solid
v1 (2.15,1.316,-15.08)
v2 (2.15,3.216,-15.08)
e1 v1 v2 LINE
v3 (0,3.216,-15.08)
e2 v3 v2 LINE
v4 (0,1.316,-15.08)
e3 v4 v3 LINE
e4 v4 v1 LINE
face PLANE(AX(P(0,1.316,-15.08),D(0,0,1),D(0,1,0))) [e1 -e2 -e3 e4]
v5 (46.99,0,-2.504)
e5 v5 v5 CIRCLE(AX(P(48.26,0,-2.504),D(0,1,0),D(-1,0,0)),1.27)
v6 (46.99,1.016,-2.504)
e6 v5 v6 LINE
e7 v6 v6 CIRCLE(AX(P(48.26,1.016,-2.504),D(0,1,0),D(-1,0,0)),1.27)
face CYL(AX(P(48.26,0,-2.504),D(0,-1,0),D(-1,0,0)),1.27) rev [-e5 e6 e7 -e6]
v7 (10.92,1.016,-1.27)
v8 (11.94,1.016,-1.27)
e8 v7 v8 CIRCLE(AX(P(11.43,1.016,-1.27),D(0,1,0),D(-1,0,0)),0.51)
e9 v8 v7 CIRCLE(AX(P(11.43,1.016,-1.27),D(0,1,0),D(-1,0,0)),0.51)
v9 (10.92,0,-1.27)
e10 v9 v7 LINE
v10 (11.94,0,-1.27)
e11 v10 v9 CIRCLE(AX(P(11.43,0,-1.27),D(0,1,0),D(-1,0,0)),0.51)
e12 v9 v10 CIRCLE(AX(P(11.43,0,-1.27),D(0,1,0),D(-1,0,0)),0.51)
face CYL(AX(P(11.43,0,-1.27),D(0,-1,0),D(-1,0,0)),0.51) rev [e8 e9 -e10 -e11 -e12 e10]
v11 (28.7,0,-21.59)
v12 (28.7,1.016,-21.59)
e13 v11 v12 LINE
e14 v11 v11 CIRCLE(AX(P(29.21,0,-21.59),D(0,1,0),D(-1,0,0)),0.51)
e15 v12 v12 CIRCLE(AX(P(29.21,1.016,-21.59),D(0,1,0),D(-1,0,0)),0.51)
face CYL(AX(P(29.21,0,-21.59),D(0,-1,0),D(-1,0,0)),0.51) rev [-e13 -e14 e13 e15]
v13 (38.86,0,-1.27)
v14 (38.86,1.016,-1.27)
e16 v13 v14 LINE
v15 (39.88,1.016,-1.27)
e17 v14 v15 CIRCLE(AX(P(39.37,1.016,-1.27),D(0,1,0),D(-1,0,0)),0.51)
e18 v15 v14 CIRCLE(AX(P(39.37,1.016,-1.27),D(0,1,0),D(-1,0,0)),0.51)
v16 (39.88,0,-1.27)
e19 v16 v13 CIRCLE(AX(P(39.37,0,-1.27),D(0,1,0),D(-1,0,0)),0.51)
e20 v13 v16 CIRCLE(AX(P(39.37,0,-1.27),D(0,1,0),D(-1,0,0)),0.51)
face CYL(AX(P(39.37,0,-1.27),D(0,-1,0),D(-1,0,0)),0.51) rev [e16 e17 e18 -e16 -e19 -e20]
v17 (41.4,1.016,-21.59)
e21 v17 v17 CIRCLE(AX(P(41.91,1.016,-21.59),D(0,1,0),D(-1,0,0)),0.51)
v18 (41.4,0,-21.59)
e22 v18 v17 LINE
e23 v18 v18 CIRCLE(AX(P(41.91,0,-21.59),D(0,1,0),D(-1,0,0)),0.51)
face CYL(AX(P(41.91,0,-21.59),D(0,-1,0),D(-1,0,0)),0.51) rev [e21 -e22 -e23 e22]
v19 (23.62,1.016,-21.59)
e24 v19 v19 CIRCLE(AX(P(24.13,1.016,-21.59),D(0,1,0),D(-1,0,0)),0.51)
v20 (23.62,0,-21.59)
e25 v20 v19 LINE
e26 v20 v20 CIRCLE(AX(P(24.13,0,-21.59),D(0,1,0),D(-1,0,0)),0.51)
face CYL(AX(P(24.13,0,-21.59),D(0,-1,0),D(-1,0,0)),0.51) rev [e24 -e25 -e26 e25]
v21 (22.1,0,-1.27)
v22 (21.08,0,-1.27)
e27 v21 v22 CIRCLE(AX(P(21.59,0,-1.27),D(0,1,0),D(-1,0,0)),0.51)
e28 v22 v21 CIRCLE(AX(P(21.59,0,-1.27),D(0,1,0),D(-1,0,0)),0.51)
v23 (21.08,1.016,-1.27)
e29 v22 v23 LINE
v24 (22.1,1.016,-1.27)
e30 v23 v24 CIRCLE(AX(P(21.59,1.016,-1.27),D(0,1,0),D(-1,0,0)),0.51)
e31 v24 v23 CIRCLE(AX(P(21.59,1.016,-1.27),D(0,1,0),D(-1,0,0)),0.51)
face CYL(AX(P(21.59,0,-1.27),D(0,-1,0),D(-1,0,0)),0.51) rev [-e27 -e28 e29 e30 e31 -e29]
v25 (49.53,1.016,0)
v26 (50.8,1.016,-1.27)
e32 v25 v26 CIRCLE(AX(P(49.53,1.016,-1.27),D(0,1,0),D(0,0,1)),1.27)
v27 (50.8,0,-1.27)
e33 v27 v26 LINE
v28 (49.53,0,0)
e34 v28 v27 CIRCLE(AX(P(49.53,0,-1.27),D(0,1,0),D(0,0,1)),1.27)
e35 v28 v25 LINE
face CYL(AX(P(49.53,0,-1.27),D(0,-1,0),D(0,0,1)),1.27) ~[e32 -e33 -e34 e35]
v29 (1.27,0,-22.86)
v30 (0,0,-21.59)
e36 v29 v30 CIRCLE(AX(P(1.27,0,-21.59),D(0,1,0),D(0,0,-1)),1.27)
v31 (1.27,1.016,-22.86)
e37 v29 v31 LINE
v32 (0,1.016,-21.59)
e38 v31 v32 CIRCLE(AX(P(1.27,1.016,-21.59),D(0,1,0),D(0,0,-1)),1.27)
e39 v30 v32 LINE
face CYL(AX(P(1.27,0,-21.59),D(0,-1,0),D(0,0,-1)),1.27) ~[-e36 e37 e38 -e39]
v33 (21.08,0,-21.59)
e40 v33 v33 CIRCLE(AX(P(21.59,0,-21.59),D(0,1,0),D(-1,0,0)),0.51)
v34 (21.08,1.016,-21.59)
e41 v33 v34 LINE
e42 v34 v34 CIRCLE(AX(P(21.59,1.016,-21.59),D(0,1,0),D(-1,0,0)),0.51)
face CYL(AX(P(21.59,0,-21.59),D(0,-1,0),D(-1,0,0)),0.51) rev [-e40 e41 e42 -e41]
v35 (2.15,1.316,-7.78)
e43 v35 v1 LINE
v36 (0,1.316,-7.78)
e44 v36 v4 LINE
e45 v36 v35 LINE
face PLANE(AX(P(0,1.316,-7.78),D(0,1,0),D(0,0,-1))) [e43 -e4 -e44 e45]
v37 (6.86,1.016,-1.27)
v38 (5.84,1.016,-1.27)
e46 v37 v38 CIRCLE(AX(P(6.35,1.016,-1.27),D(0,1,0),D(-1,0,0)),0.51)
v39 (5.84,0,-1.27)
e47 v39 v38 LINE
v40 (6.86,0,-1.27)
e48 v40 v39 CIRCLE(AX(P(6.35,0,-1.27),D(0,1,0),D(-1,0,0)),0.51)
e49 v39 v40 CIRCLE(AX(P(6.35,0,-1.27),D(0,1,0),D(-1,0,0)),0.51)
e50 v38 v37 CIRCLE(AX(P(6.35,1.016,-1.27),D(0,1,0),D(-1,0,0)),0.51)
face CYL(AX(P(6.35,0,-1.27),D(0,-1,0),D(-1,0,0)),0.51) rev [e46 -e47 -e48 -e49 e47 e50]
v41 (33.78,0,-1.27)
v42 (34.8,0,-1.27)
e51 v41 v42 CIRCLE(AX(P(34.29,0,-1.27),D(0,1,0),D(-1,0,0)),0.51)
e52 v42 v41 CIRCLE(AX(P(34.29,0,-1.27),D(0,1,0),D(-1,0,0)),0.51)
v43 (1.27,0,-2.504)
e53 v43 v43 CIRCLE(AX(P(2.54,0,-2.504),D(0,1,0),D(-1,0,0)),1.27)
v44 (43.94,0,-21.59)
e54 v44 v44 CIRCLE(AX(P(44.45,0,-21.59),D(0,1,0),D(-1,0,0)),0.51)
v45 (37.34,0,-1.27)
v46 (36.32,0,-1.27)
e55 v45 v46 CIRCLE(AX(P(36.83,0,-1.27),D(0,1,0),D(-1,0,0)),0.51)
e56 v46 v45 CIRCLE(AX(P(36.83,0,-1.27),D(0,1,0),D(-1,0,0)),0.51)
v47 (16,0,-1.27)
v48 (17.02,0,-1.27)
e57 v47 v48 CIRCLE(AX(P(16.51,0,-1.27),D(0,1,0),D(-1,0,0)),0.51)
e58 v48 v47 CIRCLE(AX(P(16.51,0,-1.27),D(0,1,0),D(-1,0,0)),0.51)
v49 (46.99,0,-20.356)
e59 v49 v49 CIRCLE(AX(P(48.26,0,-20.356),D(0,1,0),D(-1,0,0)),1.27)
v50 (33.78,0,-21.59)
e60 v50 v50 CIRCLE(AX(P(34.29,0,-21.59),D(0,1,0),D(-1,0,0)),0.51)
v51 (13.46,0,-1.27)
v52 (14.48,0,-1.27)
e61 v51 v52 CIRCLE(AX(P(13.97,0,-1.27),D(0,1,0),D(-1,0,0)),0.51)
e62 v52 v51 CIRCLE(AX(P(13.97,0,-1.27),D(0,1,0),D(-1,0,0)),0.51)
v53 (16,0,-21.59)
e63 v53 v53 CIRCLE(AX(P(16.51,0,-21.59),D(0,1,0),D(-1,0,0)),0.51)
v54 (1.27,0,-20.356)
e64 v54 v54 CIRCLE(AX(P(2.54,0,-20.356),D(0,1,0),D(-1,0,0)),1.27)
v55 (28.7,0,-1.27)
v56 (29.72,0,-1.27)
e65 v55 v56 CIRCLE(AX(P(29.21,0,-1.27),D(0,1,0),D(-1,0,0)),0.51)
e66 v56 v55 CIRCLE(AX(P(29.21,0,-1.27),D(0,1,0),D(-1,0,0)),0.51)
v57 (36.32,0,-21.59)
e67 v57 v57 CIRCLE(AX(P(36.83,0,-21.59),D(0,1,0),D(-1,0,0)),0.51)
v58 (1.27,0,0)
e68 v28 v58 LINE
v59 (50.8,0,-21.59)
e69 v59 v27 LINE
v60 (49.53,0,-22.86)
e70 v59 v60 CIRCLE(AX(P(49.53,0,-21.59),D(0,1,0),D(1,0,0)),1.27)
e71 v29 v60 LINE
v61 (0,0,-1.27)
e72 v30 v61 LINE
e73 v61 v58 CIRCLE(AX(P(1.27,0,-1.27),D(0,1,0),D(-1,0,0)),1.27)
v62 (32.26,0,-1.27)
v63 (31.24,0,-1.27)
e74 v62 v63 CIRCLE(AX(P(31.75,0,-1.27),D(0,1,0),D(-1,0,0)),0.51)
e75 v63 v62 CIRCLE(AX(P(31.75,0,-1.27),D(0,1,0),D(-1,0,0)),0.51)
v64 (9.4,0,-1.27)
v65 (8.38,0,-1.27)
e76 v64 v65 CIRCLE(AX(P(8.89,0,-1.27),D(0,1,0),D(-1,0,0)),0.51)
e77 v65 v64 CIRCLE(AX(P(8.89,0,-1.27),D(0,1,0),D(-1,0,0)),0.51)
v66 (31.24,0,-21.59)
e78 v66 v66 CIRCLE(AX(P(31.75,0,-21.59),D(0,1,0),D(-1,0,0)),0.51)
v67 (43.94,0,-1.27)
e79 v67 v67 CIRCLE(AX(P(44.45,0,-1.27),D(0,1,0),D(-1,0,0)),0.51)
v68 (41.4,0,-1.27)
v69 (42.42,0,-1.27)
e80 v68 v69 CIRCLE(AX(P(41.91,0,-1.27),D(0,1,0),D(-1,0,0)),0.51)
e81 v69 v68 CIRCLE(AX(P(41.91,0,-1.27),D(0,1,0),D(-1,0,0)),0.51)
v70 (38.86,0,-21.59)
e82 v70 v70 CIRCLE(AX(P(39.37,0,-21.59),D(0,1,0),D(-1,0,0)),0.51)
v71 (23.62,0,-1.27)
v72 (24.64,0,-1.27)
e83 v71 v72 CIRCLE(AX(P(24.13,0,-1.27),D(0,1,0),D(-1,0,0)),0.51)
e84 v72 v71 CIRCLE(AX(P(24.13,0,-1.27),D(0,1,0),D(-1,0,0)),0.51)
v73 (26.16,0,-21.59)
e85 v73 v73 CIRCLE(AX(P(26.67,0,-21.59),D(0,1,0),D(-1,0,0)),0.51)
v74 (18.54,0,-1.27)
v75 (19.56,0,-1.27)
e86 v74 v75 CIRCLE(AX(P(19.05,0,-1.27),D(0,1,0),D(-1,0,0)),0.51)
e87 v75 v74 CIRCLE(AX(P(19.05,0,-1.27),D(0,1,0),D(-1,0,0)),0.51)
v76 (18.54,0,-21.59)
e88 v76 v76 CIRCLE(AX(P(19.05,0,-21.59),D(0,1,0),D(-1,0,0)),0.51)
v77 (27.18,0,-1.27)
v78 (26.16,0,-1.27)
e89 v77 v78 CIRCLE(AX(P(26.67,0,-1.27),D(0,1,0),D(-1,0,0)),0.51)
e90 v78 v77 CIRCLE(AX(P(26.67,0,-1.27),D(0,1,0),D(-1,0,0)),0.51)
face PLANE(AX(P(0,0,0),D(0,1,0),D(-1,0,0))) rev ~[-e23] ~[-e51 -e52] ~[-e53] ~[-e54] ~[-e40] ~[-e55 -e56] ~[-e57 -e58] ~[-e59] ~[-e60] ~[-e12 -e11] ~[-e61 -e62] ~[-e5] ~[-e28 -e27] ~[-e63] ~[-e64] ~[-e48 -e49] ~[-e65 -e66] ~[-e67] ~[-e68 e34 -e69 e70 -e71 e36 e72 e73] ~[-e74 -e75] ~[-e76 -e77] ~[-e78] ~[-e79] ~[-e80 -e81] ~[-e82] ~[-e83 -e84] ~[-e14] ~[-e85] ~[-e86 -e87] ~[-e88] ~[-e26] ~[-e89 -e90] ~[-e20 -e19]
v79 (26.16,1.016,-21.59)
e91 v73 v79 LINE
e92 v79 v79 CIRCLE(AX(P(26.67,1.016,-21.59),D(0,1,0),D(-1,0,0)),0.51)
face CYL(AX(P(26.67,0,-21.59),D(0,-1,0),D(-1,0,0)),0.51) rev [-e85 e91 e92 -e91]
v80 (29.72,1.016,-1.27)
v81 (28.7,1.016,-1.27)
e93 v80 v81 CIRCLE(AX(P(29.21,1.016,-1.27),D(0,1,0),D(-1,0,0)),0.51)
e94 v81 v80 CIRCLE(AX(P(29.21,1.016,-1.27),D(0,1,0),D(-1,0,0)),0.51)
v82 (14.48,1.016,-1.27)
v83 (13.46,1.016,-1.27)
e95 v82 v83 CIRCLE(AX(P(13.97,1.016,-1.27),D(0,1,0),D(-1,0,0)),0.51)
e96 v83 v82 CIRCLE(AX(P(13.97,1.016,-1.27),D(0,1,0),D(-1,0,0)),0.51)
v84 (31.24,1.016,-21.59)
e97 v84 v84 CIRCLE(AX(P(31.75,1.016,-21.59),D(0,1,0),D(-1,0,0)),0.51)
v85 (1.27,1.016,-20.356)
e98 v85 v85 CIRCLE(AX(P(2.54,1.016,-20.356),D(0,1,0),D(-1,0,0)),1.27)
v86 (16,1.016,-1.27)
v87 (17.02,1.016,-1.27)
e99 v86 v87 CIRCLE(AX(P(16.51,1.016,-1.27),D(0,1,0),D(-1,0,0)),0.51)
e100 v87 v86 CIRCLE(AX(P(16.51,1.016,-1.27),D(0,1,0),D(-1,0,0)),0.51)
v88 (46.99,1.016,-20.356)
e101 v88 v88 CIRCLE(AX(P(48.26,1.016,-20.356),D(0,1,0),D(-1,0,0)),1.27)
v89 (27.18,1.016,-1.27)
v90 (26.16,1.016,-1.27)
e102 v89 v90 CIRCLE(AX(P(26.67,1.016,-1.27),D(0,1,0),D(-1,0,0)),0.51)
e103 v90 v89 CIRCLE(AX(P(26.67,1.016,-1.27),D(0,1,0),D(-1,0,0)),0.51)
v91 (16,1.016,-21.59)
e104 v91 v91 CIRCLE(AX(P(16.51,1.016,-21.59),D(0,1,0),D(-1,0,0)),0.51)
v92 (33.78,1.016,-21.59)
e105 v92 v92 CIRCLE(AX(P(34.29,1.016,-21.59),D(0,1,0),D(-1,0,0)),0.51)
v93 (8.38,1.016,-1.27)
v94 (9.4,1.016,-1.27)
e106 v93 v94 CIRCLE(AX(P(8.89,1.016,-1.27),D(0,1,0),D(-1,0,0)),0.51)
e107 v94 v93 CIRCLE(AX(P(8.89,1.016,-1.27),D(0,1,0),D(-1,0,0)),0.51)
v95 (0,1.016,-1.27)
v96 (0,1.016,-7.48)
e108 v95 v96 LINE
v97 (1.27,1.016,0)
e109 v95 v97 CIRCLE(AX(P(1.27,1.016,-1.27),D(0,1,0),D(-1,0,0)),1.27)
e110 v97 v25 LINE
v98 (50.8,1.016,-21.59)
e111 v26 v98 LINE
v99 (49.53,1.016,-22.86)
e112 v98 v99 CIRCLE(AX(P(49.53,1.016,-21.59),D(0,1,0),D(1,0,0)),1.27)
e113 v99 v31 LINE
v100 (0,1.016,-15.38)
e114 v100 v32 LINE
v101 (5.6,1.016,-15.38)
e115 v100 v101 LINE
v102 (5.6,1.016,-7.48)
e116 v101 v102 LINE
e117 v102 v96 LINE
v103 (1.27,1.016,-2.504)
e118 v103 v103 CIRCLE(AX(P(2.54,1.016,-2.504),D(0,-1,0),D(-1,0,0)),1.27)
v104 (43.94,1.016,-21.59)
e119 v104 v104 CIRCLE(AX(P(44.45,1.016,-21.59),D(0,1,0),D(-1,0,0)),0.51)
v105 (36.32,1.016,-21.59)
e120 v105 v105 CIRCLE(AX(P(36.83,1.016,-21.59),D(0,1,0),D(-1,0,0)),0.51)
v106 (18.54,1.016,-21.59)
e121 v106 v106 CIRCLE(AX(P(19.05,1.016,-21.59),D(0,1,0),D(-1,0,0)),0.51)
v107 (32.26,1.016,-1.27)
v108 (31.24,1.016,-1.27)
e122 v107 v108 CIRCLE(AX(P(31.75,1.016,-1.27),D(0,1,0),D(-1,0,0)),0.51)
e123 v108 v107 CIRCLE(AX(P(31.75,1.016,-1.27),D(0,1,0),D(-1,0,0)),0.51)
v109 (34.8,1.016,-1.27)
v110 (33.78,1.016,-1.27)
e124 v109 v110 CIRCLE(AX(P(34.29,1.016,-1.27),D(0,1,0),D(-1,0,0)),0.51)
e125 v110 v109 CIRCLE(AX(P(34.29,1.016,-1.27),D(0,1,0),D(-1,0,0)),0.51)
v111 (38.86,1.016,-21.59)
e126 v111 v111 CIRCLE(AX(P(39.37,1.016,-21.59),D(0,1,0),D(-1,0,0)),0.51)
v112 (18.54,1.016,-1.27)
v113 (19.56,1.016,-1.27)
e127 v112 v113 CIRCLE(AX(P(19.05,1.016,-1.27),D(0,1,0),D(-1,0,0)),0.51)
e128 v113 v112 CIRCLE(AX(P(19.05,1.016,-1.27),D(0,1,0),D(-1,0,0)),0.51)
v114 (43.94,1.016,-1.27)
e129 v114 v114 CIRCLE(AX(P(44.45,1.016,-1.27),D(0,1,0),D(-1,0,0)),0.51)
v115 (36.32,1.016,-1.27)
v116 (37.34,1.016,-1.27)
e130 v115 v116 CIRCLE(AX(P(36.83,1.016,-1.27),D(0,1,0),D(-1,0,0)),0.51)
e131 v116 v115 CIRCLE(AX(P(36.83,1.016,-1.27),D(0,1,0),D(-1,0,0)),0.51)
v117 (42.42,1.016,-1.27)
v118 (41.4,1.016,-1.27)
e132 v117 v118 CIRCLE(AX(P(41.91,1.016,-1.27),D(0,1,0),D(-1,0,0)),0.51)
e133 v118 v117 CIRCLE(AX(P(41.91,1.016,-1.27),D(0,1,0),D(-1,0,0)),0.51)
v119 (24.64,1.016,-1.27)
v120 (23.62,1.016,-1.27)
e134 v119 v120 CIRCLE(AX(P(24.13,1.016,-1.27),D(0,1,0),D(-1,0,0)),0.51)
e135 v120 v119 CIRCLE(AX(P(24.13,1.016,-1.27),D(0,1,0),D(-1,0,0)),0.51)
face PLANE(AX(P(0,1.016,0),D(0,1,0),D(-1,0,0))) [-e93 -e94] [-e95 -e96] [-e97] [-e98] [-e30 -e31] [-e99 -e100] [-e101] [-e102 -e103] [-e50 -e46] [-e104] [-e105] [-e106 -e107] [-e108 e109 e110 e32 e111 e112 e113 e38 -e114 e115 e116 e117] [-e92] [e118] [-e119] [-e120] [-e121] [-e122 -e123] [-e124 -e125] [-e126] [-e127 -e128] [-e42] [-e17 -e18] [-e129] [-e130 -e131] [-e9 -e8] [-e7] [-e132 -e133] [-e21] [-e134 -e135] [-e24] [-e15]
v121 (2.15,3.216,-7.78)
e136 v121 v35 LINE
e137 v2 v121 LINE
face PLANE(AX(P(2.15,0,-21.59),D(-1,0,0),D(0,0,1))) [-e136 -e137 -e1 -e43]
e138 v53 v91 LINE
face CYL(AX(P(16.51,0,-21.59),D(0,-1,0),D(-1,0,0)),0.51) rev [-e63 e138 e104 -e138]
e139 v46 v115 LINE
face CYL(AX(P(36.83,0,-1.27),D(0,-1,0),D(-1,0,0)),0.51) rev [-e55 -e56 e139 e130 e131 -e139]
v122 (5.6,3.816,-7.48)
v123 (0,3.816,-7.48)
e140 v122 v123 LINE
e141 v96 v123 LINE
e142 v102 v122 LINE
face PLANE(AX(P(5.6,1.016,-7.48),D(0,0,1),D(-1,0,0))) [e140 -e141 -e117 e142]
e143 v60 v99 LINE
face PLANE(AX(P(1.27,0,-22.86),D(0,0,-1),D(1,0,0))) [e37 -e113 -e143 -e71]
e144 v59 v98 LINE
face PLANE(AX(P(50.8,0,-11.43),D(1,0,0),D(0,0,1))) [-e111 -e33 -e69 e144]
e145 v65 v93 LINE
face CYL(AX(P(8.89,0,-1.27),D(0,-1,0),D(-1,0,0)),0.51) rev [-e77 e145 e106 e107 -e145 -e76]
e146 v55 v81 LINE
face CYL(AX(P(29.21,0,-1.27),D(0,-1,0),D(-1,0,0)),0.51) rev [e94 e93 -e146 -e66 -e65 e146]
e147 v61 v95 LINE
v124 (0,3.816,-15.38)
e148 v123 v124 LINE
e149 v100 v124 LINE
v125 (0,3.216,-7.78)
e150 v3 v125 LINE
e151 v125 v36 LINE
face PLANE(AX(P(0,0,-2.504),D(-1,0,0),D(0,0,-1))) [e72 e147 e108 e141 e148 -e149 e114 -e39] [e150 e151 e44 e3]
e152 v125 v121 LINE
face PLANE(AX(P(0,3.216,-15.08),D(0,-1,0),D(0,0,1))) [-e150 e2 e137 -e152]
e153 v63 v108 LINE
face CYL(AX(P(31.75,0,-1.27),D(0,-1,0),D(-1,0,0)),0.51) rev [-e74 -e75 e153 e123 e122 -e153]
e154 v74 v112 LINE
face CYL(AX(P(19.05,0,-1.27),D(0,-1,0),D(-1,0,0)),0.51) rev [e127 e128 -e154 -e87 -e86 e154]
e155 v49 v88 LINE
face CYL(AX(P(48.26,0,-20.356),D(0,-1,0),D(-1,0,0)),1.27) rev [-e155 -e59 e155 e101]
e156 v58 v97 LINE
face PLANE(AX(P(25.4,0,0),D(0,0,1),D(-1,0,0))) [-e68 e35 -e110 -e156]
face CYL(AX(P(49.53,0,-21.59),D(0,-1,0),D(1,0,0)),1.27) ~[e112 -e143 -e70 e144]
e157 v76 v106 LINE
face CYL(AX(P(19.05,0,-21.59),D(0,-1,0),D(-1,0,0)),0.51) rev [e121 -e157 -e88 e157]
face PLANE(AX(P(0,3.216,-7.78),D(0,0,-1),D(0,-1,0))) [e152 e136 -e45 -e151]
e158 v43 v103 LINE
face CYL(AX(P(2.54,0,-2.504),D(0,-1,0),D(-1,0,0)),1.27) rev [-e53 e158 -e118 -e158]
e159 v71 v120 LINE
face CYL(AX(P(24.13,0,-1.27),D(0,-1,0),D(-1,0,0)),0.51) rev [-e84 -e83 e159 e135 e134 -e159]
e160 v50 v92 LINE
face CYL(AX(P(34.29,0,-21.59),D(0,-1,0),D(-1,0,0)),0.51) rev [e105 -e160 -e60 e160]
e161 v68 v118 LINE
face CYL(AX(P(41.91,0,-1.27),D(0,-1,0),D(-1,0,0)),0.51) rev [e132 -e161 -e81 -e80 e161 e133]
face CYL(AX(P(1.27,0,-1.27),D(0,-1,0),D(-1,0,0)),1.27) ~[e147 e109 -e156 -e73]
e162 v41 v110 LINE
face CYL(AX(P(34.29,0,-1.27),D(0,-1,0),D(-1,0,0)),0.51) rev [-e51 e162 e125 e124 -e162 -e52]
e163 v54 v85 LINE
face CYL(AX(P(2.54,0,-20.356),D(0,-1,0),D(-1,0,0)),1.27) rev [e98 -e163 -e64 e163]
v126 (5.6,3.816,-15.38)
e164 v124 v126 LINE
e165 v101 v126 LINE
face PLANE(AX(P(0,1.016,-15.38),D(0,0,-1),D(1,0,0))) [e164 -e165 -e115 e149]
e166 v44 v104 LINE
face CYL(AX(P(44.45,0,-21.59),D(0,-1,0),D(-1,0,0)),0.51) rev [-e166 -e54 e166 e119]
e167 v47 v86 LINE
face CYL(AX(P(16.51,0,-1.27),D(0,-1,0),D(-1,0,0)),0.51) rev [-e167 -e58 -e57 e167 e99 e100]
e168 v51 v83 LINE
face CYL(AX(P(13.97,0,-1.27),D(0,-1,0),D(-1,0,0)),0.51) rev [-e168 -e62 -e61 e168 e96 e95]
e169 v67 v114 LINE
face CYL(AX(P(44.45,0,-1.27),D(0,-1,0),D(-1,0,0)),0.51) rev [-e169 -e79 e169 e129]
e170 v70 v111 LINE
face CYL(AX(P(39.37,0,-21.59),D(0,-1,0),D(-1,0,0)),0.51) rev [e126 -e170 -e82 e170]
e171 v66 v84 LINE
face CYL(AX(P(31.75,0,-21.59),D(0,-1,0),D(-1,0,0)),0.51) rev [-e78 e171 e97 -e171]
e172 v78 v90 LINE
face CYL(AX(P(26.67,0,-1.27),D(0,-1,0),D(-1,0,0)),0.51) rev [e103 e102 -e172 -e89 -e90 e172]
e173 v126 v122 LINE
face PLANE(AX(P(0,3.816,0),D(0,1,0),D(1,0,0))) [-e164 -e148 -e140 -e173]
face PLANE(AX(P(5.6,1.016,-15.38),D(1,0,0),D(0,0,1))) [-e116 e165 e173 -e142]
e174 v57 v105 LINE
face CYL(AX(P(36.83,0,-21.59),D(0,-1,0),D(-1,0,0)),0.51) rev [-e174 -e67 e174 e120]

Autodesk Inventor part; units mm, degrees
ref_plane "YZ Plane" through (0, 0, 0) normal (1, 0, 0) x (0, 1, 0)
ref_plane "XZ Plane" through (0, 0, 0) normal (0, 1, 0) x (-1, 0, 0)
ref_plane "XY Plane" through (0, 0, 0) normal (0, 0, 1) x (1, 0, 0)
sketch "Sketch1" plane through (0, 0, 0) normal (0, 1, 0) x (-1, 0, 0)
  line L0 (0, 0) -> (-50.8, 0)
  line L1 (-50.8, 0) -> (-50.8, -22.86)
  line L2 (-50.8, -22.86) -> (0, -22.86)
  line L3 (0, -22.86) -> (0, 0)
  line L4 (0, 0) -> (-2.54, 0)
  line L5 (-2.54, 0) -> (-48.26, 0)
  line L6 (0, 0) -> (0, -2.54)
  line L7 (0, -2.54) -> (0, -20.32)
  dimension "d0" = 50.8
  dimension "d1" = 22.86
  dimension "d2" = 2.54
  dimension "d3" = 45.72
  dimension "d4" = 2.54
  dimension "d5" = 17.78
sketch "Sketch2" plane through (0, 0, 0) normal (0, 1, 0) x (-1, 0, 0)
  point P0 (0, 0)
sketch "Sketch3" plane through (0, 0, 0) normal (0, 1, 0) x (-1, 0, 0)
  line L0 (0, -1.27) -> (0, -1.27)
  line L1 (0, -2.504) -> (-2.54, -2.504)
  line L2 (-2.54, -2.504) -> (-2.54, 0)
  line L3 (0, -11.43) -> (-50.8, -11.43)
  circle A0 centre (-2.54, -2.504) radius 1.27
  circle A1 centre (-2.54, -20.356) radius 1.27
  line L4 (-25.4, 0) -> (-25.4, -22.86)
  circle A2 centre (-48.26, -2.504) radius 1.27
  circle A3 centre (-48.26, -20.356) radius 1.27
  line L5 (-1.27, 0) -> (-1.27, 0)
  arc A4 (0, -1.27) -> (-1.27, 0) centre (-1.27, -1.27) ccw
  arc A5 (-1.27, -22.86) -> (0, -21.59) centre (-1.27, -21.59) ccw
  arc A6 (-49.53, 0) -> (-50.8, -1.27) centre (-49.53, -1.27) ccw
  arc A7 (-50.8, -21.59) -> (-49.53, -22.86) centre (-49.53, -21.59) ccw
  line L6 (-25.4, -1.27) -> (-6.35, -1.27)
  line L7 (-25.4, -1.27) -> (-44.45, -1.27)
  circle A8 centre (-6.35, -1.27) radius 0.51
  line L8 (-6.35, -1.27) -> (-8.89, -1.27)
  line L9 (-6.35, -1.27) -> (-3.81, -1.27) construction
  circle A9 centre (-8.89, -1.27) radius 0.51
  circle A10 centre (-8.89, -1.27) radius 0.51
  circle A11 centre (-11.43, -1.27) radius 0.51
  circle A12 centre (-13.97, -1.27) radius 0.51
  circle A13 centre (-16.51, -1.27) radius 0.51
  circle A14 centre (-19.05, -1.27) radius 0.51
  circle A15 centre (-21.59, -1.27) radius 0.51
  circle A16 centre (-24.13, -1.27) radius 0.51
  circle A17 centre (-44.45, -1.27) radius 0.51
  circle A18 centre (-41.91, -1.27) radius 0.51
  circle A19 centre (-39.37, -1.27) radius 0.51
  circle A20 centre (-36.83, -1.27) radius 0.51
  circle A21 centre (-34.29, -1.27) radius 0.51
  circle A22 centre (-31.75, -1.27) radius 0.51
  circle A23 centre (-29.21, -1.27) radius 0.51
  circle A24 centre (-26.67, -1.27) radius 0.51
  circle A25 centre (-16.51, -21.59) radius 0.51
  circle A26 centre (-19.05, -21.59) radius 0.51
  circle A27 centre (-21.59, -21.59) radius 0.51
  circle A28 centre (-24.13, -21.59) radius 0.51
  circle A29 centre (-29.21, -21.59) radius 0.51
  circle A30 centre (-26.67, -21.59) radius 0.51
  circle A31 centre (-31.75, -21.59) radius 0.51
  circle A32 centre (-34.29, -21.59) radius 0.51
  circle A33 centre (-36.83, -21.59) radius 0.51
  circle A34 centre (-39.37, -21.59) radius 0.51
  circle A35 centre (-41.91, -21.59) radius 0.51
  circle A36 centre (-44.45, -21.59) radius 0.51
  line L10 (-1.27, -22.86) -> (-49.53, -22.86)
  line L11 (-50.8, -21.59) -> (-50.8, -1.27)
  line L12 (-49.53, 0) -> (-1.27, 0)
  line L13 (0, -1.27) -> (0, -21.59)
  point P0 (0, 0)
  dimension "d11" = 22.86
  dimension "d12" = 1.27
  dimension "d13" = 19.05
  dimension "d18" = 1.02
  dimension "d19" = 2.54
  dimension "d20" = 180
  dimension "d21" = 1.02
  dimension "d24" = 2.54
  dimension "d31" = 2.54
  dimension "d38" = 2.54
sketch "Sketch4" plane through (0, 0, 0) normal (0, 1, 0) x (-1, 0, 0)
  point P0 (0, 0)
extrude "Extrusion1" add sketch "Sketch3" along normal blind 1.016 contours L13 L3 L4 L12 L2 A0 L1 | L1 A0 L2 L12 A4 L13 | L13 A5 L10 L4 L3 | L4 L10 A7 L11 L3 | L3 L11 A6 L12 L4
sketch "Sketch5" plane through (0, 1.016, 0) normal (0, 1, 0) x (1, 0, 0)
  line L0 (0, 21.59) -> (0, 1.27) projected
  line L1 (0, 11.43) -> (0, 15.38)
  line L2 (0, 15.38) -> (5.6, 15.38)
  line L3 (5.6, 15.38) -> (5.6, 7.48)
  line L4 (5.6, 7.48) -> (0, 7.48)
  point P0 (0, 0)
  dimension "d46" = 3.95
  dimension "d49" = 5.6
  dimension "d50" = 7.9
extrude "Extrusion2" add sketch "Sketch5" along normal blind 2.8
sketch "Sketch6" plane through (5.6, 1.016, -7.48) normal (1, 0, 0) x (0, 0, -1)
  line L0 (0, 0) -> (0, 2.8) projected
  line L1 (7.9, 2.8) -> (0, 2.8) projected
  line L2 (7.9, 0) -> (7.9, 2.8) projected
  line L3 (-6.21, 0) -> (14.11, 0) projected
  point P0 (-7.48, -1.016)
sketch "Sketch7" plane through (0, 0, -21.59) normal (-1, 0, 0) x (0, 0, 1)
  line L0 (6.21, 3.816) -> (6.51, 3.816)
  line L1 (6.51, 3.216) -> (13.81, 3.216)
  line L2 (13.81, 3.216) -> (13.81, 1.316)
  line L3 (13.81, 1.316) -> (6.51, 1.316)
  line L4 (6.51, 1.316) -> (6.51, 3.216)
  point P0 (21.59, 0)
  dimension "d61" = 0.3
  dimension "d62" = 0.6
  dimension "d63" = 7.3
  dimension "d64" = 1.9
sketch "Sketch8" plane through (5.6, 1.016, -7.48) normal (1, 0, 0) x (0, 0, -1)
  point P0 (-7.48, -1.016)
extrude "Extrusion3" cut sketch "Sketch7" against normal blind 2.15
equation "\"BendRadius\" = Thickness"
equation "\"BendReliefWidth\" = Thickness"
equation "\"BendReliefDepth\" = 0.5 * Thickness"
equation "\"CornerReliefSize\" = 4 * Thickness"
equation "\"MinimumRemnant\" = 2 * Thickness"
equation "\"TransitionRadius\" = BendRadius"
equation "\"JacobiRadiusSize\" = Thickness"
equation "\"GapSize\" = Thickness"
equation "\"Thickness\" = 0.5"
properties part number "Adafruit Feather 32u4"
